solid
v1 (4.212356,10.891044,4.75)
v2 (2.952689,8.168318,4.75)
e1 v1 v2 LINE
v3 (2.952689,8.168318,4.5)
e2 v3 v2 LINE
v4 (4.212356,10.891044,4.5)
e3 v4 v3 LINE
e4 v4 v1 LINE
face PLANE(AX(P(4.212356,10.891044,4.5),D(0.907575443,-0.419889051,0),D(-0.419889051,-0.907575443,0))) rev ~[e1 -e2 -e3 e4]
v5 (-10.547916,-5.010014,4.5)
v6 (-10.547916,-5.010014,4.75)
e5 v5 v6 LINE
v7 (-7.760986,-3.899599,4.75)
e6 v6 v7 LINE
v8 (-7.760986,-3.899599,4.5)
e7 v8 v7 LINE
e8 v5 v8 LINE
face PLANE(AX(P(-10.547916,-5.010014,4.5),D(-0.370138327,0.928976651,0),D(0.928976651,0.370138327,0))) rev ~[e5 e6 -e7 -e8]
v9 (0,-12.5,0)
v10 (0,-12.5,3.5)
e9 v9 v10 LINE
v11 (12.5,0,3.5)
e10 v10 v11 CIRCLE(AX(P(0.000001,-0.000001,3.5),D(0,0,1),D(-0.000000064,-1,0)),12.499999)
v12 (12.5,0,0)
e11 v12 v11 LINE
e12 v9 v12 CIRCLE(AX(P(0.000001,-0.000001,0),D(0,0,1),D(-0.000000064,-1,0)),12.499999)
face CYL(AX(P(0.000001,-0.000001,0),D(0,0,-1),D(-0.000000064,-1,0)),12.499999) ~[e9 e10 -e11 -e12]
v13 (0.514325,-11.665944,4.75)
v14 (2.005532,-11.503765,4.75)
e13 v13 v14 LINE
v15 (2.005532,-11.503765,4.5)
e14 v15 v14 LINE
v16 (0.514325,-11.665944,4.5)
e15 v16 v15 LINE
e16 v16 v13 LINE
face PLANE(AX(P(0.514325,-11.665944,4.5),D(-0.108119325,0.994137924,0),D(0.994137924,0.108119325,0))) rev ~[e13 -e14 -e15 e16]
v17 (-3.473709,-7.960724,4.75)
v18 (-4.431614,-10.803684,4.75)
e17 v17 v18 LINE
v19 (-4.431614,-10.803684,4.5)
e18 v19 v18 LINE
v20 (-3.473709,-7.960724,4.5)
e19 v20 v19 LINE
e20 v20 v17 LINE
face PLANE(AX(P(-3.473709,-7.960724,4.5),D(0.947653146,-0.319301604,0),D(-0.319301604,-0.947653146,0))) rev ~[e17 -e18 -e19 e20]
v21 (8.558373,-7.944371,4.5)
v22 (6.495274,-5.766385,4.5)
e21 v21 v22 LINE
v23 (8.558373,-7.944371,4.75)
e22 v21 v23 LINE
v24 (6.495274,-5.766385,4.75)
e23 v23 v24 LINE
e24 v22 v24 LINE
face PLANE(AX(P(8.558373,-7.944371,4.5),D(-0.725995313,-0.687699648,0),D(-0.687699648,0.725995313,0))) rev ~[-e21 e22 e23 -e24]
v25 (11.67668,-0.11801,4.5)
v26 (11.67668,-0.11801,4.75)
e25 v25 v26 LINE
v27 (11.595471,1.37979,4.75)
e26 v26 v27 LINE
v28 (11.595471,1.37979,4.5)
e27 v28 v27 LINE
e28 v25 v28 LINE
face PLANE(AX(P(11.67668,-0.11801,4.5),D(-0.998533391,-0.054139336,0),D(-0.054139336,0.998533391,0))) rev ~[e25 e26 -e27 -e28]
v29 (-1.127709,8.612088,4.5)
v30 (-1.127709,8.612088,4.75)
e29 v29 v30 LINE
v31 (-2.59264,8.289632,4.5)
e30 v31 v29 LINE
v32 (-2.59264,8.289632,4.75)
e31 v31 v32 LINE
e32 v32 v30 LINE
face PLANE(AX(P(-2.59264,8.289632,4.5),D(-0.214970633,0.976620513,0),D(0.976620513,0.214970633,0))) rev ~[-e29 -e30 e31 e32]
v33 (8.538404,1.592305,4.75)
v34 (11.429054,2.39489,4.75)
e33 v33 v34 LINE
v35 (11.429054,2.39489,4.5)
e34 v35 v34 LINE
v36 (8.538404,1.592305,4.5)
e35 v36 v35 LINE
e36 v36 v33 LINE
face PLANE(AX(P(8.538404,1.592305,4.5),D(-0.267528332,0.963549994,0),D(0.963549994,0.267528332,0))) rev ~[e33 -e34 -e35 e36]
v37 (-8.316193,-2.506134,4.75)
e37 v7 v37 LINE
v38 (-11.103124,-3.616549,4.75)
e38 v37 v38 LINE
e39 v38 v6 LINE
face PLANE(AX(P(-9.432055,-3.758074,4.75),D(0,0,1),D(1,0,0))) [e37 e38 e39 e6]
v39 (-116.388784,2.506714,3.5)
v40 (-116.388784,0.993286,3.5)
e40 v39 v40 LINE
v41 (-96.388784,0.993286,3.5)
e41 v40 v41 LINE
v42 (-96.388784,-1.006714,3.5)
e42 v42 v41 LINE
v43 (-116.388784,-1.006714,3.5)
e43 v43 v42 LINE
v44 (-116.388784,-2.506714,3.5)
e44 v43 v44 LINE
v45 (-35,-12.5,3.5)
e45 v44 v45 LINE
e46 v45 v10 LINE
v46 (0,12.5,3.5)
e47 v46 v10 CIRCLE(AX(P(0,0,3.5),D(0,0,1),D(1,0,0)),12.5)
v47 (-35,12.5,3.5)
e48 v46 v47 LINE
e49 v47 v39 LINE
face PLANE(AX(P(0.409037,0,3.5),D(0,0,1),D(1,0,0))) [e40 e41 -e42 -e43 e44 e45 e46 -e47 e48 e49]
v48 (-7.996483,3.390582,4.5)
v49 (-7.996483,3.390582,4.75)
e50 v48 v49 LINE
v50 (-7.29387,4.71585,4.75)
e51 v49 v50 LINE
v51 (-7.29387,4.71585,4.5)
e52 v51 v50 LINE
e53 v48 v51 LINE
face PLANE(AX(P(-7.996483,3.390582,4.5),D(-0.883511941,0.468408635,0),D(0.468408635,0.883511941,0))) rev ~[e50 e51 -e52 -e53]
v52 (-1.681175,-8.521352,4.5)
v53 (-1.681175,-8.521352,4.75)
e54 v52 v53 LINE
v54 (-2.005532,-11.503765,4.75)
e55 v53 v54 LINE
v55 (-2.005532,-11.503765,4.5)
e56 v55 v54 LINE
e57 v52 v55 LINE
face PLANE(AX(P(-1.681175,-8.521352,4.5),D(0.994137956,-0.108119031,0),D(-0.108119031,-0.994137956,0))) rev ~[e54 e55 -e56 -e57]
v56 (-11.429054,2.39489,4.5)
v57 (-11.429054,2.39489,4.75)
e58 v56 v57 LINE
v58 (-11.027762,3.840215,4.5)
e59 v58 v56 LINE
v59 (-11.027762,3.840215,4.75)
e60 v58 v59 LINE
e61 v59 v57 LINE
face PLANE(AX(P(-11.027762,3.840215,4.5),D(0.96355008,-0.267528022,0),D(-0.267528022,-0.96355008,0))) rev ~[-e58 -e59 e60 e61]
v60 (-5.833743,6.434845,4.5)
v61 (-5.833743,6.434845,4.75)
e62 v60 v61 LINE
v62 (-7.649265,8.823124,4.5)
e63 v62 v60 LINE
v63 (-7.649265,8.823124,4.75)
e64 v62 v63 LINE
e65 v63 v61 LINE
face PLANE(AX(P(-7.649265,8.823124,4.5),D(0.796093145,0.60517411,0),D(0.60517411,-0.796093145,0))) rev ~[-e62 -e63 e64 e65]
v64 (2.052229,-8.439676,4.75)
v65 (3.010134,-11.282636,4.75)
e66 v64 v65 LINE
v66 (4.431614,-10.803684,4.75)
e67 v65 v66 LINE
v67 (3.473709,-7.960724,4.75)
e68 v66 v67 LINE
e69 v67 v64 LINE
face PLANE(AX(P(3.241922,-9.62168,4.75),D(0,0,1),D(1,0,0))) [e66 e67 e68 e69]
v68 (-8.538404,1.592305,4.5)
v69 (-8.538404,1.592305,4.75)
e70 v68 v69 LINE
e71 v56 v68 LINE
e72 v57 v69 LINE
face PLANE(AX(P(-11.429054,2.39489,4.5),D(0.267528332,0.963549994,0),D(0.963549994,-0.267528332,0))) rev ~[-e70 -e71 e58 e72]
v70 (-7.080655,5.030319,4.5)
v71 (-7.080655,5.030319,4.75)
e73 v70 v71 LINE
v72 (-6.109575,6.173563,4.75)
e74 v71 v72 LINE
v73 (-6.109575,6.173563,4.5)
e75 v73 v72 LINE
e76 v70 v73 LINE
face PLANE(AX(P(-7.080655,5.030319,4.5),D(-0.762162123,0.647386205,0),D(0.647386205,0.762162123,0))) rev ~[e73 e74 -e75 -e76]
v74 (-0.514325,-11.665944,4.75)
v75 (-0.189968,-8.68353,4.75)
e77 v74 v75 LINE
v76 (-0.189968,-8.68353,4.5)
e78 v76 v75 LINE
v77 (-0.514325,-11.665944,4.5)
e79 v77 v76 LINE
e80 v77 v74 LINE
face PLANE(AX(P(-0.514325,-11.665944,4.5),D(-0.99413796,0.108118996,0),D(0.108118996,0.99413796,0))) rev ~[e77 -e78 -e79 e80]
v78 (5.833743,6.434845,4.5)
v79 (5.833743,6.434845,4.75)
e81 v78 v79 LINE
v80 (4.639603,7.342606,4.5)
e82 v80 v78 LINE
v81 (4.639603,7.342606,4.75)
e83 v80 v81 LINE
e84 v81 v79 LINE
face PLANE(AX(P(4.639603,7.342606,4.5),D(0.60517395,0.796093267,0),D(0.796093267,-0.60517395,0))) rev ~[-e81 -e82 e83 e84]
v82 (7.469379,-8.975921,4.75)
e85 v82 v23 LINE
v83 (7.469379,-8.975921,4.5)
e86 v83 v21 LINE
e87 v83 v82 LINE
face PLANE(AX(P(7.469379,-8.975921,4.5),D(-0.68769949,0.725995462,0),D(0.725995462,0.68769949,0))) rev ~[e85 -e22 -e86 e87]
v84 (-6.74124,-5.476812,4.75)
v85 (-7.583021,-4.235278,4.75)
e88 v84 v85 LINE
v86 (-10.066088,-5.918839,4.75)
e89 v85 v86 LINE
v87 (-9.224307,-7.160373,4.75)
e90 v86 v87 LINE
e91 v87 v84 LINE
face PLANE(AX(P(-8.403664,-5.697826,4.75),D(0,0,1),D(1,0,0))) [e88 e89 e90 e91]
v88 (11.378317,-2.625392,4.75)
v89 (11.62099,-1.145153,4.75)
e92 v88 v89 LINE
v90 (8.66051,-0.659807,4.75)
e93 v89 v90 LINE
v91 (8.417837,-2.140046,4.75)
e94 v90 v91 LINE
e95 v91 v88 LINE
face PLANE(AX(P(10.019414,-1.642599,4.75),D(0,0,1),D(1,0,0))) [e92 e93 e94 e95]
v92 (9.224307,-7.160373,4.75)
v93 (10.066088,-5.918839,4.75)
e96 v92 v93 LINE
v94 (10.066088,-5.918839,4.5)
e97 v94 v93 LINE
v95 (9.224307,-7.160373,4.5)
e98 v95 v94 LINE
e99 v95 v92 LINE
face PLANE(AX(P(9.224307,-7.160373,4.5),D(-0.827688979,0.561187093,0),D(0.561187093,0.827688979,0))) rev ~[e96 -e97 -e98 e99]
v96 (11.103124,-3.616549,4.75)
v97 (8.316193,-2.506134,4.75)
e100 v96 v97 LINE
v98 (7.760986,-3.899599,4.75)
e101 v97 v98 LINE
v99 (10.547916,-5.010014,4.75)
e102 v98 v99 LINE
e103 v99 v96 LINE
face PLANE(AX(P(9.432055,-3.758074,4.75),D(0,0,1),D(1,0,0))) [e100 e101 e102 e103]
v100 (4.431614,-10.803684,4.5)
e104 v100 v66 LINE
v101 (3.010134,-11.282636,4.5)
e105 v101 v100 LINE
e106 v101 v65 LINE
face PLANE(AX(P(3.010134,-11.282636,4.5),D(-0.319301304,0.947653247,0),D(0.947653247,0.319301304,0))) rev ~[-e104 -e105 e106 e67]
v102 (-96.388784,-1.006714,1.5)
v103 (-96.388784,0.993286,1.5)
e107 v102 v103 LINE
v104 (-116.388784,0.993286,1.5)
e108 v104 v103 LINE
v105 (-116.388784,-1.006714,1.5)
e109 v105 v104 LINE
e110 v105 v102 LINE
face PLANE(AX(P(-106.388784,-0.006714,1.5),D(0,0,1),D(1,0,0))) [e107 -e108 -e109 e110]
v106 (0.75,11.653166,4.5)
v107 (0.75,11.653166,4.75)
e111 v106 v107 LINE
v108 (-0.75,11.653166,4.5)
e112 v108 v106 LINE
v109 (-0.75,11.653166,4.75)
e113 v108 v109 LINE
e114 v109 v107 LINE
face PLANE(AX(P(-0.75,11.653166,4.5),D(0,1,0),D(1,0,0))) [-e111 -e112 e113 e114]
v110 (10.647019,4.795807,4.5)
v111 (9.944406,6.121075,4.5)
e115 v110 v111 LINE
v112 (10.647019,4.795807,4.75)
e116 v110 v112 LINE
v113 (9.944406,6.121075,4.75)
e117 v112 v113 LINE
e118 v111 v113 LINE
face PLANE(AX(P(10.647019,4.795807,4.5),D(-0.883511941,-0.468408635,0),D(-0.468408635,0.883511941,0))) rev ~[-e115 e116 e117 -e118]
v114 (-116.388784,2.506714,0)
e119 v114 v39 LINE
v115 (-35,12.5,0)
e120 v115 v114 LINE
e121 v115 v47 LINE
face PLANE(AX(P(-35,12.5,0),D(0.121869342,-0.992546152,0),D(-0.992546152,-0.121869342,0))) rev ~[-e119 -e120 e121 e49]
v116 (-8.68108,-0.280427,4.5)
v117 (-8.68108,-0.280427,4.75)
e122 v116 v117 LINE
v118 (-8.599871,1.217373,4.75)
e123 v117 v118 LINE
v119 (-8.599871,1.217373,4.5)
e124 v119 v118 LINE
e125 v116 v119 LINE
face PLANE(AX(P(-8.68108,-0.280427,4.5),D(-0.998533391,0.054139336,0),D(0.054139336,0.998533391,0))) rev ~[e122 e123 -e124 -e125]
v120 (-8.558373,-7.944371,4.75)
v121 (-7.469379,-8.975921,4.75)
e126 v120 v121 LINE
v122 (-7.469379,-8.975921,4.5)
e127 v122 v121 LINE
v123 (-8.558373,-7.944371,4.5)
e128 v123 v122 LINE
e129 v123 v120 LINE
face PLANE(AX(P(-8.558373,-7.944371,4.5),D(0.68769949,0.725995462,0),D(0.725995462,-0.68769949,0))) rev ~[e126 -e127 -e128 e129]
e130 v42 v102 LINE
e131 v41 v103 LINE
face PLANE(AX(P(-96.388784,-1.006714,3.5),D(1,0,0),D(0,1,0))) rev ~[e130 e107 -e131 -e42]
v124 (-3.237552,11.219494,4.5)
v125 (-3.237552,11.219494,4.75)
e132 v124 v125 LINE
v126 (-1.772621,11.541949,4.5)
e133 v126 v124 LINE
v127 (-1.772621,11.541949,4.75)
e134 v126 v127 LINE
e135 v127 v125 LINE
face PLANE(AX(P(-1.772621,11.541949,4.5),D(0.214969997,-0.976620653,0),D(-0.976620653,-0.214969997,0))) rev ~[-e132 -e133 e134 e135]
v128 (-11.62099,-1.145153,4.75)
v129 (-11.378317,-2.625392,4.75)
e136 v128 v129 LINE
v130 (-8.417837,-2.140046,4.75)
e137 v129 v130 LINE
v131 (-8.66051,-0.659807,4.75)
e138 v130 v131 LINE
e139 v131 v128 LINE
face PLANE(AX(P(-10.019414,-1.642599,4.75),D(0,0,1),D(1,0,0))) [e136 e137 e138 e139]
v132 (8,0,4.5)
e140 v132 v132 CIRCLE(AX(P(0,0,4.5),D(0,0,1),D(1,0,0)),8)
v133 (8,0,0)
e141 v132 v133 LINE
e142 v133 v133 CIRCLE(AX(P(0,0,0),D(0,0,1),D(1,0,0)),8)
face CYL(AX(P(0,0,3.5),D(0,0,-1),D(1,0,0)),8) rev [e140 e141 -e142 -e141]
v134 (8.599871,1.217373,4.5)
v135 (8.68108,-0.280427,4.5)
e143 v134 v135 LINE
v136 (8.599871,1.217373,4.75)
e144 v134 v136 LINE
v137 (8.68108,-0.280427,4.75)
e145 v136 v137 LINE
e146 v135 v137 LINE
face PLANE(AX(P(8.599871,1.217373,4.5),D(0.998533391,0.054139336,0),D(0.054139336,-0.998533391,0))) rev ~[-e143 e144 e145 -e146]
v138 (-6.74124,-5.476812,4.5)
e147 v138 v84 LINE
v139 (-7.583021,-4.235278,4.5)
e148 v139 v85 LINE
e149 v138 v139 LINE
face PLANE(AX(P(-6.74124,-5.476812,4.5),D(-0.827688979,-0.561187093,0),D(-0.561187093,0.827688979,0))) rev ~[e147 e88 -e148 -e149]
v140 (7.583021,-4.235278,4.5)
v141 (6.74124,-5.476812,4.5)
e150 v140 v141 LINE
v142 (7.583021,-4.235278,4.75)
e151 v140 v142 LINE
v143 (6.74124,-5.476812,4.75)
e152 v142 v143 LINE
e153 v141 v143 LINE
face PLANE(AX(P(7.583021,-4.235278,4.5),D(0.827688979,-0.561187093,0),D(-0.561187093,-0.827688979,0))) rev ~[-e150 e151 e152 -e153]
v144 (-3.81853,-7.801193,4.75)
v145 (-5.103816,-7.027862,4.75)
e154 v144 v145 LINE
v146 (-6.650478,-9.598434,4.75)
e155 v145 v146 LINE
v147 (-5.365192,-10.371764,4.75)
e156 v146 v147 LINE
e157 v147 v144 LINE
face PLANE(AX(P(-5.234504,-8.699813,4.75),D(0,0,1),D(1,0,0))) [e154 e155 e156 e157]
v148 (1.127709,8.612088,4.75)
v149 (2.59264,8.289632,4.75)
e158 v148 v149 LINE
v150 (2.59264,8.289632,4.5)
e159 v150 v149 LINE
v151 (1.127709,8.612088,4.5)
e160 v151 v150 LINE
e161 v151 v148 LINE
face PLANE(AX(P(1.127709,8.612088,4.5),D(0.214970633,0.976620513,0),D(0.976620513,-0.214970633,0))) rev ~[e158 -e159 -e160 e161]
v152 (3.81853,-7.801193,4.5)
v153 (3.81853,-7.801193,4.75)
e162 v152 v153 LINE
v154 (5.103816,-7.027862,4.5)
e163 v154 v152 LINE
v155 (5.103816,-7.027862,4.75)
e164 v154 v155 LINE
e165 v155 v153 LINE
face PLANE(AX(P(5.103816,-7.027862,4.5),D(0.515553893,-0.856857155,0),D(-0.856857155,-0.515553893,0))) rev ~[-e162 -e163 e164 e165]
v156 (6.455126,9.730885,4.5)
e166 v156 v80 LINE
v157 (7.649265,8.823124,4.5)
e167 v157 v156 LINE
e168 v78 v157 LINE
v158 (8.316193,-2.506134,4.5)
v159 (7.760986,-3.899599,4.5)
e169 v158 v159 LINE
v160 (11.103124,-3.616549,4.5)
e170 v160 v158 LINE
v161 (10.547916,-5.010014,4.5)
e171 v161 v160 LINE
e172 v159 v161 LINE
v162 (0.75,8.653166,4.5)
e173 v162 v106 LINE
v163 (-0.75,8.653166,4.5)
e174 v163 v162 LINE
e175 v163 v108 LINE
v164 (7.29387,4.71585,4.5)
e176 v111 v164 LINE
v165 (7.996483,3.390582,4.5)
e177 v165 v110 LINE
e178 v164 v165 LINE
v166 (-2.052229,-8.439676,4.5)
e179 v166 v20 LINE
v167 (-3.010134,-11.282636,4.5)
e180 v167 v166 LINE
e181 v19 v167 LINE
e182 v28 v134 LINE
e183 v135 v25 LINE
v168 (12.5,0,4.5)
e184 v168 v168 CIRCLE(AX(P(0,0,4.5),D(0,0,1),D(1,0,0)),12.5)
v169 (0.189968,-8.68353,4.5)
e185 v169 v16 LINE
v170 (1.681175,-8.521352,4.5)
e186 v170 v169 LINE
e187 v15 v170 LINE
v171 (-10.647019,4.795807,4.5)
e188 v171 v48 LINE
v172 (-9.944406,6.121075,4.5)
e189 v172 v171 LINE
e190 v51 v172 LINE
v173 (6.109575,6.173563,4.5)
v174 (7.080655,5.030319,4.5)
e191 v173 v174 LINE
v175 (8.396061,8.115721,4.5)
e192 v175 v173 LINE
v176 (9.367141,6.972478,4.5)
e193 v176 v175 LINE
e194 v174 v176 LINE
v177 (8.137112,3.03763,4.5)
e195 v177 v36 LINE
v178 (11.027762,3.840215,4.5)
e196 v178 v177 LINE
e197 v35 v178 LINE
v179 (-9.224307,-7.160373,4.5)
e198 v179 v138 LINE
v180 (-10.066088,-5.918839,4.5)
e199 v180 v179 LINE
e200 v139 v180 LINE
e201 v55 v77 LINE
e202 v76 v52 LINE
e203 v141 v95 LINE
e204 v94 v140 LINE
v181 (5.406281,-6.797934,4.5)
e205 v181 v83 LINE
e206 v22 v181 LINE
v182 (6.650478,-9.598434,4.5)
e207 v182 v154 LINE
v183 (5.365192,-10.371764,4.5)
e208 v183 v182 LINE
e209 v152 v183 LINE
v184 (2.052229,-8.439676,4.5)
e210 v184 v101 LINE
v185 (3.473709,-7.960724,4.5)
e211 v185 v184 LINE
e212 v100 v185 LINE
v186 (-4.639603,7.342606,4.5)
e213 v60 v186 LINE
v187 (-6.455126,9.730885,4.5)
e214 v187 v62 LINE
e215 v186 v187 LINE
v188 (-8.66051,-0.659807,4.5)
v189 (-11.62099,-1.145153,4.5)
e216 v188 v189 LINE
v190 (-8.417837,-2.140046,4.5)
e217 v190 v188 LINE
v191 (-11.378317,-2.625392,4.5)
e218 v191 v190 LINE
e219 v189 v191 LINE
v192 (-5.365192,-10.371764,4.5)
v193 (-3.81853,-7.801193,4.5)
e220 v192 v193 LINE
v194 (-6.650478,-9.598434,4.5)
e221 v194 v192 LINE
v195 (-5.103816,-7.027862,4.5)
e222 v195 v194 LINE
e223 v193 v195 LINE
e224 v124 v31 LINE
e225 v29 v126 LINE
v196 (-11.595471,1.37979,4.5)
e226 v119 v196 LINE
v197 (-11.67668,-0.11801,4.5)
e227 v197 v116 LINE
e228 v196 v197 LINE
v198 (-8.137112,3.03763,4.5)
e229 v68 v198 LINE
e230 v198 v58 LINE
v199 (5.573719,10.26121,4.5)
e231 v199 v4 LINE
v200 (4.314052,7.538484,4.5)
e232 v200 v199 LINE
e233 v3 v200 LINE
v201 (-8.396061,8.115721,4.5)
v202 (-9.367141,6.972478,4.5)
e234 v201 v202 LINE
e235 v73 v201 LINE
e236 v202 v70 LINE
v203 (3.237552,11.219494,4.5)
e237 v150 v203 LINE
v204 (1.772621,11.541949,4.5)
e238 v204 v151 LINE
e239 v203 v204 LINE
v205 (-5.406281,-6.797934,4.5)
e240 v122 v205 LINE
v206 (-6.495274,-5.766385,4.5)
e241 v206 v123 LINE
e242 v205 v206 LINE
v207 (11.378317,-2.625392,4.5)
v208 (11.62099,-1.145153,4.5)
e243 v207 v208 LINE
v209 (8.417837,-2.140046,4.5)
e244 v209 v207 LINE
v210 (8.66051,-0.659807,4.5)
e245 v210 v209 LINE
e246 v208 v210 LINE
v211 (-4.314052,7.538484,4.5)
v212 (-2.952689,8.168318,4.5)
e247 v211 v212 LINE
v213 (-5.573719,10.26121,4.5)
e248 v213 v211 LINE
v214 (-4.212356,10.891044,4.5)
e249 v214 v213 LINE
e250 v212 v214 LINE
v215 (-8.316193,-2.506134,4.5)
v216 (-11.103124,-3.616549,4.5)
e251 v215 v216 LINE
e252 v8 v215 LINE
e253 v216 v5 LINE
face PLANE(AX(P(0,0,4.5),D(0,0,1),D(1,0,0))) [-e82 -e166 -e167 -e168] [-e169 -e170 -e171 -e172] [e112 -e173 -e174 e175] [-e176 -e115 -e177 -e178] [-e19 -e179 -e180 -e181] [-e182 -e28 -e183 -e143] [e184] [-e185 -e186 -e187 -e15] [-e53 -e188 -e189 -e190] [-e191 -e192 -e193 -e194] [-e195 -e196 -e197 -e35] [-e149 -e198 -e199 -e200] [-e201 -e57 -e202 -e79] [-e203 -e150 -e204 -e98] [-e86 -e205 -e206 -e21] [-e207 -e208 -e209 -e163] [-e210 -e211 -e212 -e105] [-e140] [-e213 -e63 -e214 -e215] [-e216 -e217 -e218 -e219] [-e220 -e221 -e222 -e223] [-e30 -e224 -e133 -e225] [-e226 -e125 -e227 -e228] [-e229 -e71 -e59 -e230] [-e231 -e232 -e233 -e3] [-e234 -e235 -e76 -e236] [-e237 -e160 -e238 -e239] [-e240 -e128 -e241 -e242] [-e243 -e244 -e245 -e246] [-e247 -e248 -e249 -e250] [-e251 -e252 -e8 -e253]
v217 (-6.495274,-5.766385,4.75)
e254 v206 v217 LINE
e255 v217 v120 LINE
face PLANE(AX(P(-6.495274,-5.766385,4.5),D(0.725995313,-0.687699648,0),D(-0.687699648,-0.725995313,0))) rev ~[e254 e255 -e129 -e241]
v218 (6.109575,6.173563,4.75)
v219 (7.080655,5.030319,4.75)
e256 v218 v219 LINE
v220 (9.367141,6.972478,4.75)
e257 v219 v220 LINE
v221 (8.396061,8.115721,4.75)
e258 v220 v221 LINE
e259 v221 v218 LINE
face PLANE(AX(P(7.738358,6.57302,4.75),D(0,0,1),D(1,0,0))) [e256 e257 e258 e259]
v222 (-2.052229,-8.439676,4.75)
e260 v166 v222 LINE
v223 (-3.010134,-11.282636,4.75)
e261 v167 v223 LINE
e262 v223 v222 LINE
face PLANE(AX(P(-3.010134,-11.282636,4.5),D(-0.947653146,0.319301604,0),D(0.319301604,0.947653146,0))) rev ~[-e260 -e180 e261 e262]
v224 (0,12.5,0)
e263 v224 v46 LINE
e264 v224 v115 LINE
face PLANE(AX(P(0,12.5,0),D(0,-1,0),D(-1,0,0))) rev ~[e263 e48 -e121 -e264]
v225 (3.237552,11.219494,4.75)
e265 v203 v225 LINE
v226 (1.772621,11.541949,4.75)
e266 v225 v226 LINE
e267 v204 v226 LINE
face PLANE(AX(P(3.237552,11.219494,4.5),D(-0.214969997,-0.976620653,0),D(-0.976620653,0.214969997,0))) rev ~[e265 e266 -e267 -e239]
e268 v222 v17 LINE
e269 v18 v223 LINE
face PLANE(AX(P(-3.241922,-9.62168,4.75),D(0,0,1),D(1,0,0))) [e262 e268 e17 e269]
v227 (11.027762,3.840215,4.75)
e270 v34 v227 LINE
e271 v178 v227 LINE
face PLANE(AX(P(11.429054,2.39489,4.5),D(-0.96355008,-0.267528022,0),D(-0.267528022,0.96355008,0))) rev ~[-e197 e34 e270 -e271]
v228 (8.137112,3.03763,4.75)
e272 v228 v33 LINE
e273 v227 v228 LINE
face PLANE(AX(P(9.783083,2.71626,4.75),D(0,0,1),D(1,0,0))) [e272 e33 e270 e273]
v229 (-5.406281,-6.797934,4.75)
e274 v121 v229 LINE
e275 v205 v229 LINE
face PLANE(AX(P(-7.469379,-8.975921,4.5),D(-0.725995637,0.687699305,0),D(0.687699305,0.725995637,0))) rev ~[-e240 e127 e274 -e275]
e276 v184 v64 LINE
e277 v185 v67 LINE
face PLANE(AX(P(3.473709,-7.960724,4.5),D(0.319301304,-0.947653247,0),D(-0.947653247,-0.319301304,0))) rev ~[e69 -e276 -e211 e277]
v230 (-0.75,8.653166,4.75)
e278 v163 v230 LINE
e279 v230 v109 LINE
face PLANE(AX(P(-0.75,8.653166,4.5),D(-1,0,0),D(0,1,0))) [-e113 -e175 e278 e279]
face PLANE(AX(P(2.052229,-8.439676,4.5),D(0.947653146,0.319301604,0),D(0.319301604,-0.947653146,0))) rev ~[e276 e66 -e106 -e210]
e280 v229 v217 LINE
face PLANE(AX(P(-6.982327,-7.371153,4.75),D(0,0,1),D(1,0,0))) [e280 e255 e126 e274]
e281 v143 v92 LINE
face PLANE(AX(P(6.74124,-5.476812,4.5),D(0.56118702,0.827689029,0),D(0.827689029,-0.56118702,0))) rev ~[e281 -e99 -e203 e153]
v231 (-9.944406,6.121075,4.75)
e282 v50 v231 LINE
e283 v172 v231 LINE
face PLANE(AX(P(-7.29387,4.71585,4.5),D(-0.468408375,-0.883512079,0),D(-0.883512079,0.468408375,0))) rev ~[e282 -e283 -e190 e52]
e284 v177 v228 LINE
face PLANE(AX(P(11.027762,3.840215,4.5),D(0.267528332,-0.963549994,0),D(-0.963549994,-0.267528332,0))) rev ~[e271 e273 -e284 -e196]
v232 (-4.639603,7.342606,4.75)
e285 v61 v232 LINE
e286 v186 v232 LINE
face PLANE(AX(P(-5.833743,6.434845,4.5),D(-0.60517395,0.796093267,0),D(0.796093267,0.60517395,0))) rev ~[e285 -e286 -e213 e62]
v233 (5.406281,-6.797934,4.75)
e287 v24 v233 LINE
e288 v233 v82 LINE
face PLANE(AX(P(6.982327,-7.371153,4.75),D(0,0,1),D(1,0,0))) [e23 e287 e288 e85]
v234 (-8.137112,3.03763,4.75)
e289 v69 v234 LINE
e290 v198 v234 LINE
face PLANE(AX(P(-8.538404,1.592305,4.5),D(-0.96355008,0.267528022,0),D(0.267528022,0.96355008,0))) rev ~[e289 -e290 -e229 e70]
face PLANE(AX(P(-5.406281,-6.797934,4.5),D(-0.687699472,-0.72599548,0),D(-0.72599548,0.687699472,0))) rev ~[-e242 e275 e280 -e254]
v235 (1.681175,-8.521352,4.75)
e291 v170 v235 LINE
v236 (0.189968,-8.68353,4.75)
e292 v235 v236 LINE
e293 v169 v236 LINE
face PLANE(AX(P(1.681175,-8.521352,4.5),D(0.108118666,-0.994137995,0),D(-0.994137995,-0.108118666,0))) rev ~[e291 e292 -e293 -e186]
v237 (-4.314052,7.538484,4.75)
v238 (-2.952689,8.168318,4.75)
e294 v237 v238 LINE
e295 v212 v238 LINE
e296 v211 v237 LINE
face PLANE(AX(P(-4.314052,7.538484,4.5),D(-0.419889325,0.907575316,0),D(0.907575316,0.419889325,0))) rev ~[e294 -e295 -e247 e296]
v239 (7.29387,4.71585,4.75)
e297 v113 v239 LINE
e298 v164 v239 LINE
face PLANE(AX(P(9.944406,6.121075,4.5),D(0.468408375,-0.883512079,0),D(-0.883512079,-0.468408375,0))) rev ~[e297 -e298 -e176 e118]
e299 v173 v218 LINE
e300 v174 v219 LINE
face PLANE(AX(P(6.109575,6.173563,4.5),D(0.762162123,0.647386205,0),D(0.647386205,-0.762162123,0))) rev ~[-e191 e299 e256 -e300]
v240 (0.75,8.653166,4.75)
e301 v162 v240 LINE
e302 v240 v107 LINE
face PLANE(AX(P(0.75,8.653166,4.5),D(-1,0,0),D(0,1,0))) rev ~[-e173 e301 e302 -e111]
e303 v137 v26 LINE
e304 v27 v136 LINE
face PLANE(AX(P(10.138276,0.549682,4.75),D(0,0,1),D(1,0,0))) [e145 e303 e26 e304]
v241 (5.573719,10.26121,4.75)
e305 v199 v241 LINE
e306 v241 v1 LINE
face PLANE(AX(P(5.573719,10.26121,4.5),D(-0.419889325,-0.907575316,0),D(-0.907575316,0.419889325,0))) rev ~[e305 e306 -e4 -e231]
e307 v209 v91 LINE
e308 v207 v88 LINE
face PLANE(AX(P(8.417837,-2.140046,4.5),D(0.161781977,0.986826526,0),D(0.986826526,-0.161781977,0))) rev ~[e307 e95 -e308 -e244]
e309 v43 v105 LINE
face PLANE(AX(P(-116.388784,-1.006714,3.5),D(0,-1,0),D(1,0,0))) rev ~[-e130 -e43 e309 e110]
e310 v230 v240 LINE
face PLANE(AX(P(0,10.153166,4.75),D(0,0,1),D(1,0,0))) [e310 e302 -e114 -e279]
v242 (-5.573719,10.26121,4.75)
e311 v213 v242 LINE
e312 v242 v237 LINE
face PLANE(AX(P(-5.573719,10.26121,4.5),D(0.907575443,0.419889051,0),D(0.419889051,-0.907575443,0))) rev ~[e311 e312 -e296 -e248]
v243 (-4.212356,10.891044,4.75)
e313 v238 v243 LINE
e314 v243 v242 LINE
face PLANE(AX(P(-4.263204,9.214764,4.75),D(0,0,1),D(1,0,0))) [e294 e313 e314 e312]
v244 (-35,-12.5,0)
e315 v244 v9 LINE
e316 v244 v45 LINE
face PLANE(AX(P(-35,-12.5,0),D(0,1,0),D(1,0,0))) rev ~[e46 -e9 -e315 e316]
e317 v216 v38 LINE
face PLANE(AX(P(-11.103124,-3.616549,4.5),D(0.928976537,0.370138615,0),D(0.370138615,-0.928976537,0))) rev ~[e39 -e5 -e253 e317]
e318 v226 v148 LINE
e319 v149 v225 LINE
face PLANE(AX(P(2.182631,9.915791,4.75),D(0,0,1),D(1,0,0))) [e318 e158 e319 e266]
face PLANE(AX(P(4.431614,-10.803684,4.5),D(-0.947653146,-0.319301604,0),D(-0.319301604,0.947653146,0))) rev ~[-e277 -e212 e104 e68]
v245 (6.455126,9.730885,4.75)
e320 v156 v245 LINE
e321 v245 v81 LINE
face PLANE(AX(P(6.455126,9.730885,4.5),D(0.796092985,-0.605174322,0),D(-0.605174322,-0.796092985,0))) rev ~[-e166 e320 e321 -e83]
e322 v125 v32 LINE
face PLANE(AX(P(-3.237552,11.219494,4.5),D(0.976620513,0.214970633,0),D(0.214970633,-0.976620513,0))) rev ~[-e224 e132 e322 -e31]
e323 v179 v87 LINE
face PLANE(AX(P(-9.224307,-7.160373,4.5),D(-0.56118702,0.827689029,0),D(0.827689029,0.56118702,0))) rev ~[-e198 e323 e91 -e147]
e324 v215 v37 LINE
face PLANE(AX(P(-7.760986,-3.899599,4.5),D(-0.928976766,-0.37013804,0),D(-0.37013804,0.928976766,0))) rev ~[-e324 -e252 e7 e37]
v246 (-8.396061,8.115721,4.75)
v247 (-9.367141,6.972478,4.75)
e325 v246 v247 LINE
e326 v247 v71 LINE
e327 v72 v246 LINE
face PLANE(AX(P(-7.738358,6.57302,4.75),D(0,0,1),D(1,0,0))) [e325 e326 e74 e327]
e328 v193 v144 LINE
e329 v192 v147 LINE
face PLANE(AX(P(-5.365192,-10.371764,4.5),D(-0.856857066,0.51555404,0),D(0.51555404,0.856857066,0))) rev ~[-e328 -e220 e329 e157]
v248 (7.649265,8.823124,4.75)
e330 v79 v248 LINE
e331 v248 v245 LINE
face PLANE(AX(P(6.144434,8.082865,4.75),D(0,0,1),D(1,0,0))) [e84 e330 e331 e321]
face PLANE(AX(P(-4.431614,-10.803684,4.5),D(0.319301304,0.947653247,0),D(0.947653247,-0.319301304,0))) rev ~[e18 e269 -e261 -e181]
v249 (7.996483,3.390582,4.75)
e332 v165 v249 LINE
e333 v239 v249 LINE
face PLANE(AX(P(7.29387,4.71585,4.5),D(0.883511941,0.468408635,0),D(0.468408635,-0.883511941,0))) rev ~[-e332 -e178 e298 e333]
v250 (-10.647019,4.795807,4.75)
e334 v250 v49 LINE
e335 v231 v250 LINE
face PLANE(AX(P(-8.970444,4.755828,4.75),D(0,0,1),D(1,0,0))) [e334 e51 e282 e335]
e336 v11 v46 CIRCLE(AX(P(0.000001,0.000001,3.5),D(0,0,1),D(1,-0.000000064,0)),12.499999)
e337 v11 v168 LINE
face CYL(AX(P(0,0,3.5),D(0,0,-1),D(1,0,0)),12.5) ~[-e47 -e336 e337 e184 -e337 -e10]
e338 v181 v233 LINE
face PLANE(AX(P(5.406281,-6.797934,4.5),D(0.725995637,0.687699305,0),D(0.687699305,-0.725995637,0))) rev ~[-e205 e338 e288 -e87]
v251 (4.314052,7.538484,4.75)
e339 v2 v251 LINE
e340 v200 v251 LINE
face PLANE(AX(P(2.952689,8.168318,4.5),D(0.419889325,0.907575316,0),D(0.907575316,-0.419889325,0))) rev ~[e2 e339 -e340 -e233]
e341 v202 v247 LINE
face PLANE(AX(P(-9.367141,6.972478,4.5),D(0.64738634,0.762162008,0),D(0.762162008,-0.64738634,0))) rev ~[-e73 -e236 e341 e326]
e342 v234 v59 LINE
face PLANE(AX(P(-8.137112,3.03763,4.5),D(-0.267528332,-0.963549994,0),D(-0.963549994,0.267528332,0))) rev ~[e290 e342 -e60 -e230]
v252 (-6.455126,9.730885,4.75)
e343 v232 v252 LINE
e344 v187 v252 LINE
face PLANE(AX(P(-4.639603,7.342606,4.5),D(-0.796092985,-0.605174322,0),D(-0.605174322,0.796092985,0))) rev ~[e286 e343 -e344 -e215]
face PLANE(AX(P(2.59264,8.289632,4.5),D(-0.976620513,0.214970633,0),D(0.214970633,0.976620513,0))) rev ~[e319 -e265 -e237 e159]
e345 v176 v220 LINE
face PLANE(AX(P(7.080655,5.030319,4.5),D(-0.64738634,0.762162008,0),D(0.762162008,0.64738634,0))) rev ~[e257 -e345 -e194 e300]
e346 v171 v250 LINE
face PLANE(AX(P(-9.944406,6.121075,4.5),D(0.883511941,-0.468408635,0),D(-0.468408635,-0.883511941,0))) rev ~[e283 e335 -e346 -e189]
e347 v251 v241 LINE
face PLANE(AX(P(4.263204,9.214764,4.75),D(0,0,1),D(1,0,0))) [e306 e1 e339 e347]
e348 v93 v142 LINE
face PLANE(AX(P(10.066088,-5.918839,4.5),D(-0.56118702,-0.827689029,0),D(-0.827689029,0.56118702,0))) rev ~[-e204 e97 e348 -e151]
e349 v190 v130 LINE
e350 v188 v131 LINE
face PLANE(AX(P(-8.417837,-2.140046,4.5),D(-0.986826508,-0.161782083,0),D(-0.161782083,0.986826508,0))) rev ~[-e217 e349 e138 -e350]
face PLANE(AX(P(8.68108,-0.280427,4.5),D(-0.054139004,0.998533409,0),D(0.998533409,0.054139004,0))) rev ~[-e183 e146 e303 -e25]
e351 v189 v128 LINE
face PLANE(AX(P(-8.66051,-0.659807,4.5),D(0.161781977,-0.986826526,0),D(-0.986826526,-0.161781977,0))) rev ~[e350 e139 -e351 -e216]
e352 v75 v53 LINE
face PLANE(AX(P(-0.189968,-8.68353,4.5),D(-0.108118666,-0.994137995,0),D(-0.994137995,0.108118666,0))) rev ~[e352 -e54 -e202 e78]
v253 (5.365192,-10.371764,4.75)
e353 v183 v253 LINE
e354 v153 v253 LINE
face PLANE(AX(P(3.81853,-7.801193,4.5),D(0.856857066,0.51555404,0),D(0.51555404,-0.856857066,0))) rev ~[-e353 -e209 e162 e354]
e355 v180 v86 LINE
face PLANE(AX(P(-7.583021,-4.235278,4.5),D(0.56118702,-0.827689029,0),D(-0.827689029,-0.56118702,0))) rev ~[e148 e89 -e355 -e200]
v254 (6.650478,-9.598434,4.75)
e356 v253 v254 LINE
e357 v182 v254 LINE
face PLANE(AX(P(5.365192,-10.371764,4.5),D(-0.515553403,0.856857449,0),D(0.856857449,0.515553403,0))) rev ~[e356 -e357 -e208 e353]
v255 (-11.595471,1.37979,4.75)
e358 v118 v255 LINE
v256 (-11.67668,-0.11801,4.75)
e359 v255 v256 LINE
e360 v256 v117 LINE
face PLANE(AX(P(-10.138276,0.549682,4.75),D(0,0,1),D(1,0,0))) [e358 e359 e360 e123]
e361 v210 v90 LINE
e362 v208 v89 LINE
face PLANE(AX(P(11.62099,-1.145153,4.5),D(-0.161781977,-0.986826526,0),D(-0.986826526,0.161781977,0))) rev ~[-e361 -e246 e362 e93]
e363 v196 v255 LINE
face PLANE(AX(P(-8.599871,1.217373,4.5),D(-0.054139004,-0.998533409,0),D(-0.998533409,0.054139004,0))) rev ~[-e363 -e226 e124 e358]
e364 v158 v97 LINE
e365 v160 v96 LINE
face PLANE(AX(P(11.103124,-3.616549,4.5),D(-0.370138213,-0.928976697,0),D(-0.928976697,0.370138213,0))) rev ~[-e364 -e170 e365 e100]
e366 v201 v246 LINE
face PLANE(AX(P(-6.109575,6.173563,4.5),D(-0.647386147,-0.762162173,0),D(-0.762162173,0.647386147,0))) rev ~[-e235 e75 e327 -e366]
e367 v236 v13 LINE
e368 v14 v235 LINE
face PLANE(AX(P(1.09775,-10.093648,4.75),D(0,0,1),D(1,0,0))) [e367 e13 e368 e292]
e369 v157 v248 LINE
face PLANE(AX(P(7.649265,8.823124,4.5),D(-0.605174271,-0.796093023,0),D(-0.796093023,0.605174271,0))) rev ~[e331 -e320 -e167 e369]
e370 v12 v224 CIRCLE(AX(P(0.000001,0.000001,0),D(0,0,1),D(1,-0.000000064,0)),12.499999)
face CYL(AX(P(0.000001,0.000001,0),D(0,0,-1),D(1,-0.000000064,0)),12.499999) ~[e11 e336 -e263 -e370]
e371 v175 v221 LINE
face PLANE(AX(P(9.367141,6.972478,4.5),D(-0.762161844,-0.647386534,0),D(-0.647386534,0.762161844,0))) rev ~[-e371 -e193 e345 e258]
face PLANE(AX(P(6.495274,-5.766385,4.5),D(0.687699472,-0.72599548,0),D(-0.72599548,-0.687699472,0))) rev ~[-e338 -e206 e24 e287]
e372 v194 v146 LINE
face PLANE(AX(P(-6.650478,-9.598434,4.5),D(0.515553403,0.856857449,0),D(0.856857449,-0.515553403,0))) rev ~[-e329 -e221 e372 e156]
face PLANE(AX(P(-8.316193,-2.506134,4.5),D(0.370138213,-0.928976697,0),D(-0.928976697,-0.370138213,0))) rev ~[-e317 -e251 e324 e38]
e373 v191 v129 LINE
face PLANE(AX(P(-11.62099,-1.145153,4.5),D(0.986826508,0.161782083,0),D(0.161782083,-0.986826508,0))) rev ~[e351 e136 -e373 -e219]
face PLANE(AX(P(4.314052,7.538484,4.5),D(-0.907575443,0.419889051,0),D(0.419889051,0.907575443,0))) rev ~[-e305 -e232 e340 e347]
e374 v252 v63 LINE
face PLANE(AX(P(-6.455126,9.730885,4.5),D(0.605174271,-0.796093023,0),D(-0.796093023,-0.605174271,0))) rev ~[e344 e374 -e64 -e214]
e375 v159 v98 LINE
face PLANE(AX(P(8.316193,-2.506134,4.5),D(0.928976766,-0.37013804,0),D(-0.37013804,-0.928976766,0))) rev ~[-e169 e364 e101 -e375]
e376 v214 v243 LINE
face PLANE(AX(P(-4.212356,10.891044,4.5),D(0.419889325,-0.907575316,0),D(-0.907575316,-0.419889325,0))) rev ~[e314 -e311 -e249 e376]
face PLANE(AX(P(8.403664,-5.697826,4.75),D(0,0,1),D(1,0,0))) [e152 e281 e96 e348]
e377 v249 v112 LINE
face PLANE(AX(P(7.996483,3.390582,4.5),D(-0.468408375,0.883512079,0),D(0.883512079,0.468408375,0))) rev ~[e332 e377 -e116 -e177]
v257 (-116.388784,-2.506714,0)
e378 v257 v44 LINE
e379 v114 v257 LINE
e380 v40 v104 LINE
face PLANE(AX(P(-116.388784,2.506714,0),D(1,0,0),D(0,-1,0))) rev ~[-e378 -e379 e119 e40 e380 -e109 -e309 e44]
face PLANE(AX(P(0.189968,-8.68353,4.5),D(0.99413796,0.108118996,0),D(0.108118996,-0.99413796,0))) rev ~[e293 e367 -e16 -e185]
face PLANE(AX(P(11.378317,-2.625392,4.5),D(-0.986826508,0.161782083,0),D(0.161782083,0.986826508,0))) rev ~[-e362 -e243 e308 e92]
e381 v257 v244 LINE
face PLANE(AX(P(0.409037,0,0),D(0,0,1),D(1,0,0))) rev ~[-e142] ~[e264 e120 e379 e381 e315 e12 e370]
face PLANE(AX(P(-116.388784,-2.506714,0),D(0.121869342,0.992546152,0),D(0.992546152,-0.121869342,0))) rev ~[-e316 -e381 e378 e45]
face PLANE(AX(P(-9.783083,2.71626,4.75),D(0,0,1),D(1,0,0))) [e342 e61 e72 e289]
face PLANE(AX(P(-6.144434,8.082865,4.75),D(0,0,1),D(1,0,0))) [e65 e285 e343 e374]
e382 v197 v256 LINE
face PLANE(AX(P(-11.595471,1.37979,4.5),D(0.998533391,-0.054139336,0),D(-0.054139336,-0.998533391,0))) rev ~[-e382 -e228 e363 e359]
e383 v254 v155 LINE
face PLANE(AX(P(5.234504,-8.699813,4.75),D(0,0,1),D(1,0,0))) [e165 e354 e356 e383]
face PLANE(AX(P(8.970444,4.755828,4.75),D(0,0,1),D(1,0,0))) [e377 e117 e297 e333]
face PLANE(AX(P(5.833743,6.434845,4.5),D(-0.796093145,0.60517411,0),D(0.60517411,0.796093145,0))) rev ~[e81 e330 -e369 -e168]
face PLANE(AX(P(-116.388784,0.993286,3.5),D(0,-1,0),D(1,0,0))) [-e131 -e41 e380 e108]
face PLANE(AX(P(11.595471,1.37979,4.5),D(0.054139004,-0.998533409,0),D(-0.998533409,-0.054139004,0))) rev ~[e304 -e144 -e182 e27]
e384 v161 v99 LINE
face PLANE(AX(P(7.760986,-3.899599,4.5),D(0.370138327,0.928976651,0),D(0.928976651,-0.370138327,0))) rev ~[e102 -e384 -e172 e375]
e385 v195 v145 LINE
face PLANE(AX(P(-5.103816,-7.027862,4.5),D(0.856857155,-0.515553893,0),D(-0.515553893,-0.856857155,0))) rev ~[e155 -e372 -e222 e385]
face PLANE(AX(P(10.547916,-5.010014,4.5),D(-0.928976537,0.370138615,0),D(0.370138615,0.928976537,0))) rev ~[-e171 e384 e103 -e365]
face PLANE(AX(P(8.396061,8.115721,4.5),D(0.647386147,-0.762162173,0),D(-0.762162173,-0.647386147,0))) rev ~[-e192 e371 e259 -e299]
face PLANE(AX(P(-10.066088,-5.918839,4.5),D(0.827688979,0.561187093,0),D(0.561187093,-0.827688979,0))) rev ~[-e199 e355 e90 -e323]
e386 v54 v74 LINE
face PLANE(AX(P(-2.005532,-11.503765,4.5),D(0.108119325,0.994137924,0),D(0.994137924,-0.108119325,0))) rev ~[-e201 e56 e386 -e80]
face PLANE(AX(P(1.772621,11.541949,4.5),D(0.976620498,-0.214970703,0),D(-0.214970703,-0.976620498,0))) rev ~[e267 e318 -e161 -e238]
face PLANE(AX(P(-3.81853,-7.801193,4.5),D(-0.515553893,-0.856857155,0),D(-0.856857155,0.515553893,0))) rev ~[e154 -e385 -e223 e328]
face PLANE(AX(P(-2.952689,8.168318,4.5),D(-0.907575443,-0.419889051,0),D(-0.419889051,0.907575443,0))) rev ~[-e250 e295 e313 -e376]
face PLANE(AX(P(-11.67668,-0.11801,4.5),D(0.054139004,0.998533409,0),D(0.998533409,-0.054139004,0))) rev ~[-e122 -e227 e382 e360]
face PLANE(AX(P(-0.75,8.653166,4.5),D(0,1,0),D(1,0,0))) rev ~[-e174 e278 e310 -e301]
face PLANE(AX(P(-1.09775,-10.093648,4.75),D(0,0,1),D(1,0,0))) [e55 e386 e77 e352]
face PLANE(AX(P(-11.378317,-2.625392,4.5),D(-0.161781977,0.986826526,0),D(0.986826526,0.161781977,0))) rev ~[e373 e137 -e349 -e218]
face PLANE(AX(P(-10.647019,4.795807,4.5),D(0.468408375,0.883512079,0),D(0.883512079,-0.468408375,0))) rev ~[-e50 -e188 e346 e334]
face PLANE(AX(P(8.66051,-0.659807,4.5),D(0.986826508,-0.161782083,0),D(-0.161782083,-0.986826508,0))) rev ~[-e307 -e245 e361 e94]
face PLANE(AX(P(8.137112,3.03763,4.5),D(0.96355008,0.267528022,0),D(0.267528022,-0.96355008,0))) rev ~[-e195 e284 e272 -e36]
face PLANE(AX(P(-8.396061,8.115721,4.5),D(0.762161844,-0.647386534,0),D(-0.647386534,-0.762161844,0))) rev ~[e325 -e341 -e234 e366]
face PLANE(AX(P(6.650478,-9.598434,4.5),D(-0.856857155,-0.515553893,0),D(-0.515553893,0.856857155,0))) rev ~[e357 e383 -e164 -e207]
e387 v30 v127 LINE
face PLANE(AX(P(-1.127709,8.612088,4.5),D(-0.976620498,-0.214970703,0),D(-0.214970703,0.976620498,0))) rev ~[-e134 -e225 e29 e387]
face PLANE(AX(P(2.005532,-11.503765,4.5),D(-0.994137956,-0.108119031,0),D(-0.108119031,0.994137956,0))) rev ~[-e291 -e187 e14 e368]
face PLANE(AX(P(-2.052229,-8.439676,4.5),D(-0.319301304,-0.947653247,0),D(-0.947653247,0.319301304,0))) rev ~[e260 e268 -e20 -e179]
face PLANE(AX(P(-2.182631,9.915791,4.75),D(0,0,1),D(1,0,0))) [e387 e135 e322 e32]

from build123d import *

# Parameters (mm, degrees)
F0_R     = 8
F1_DEPTH = 3.5
F2_R     = 12.5
F2_R_2   = 8
F3_DEPTH = 1
F4_W     = 20
F4_H     = 2
F5_DEPTH = 2
F6_W     = 1.5
F6_H     = 3
F7_DEPTH = 0.25


with BuildPart() as f1:
    # F0 (on Top) → F1 (new body)
    with BuildSketch(Plane.XY):
        with BuildLine():
            ThreePointArc((0, -12.5), (8.838835, -8.838835), (12.5, 0))
            ThreePointArc((12.5, 0), (8.838835, 8.838835), (0, 12.5))
            ThreePointArc((0, 12.5), (-12.5, 0), (0, -12.5))
        make_face()
        Circle(F0_R, mode=Mode.SUBTRACT)
        with BuildLine():
            ThreePointArc((0, -12.5), (-12.5, 0), (0, 12.5))
            Line((0, 12.5), (-35, 12.5))
            Line((-35, 12.5), (-116.388784, 2.506714))
            Line((-116.388784, 2.506714), (-116.388784, -2.506714))
            Line((-116.388784, -2.506714), (-35, -12.5))
            Line((-35, -12.5), (0, -12.5))
        make_face()
    extrude(amount=F1_DEPTH)

    # F2 (on face) → F3 (join)
    with BuildSketch(Plane.XY.offset(3.5)):
        Circle(F2_R)
        Circle(F2_R_2, mode=Mode.SUBTRACT)
    extrude(amount=F3_DEPTH)

    # F4 (on face) → F5 (cut)
    with BuildSketch(Plane.XY.offset(3.5)):
        with Locations((-106.388784, -0.006714)):
            Rectangle(F4_W, F4_H)
    extrude(amount=-F5_DEPTH, mode=Mode.SUBTRACT)

    # F6 (on face) → F7 (join)
    with BuildSketch(Plane.XY.offset(4.5)):
        with Locations((0, 10.153166)):
            Rectangle(F6_W, F6_H)
        Polygon((3.237552, 11.219494), (1.772621, 11.541949), (1.127709, 8.612088), (2.59264, 8.289632), align=None)
        Polygon((5.573719, 10.26121), (4.212356, 10.891044), (2.952689, 8.168318), (4.314052, 7.538484), align=None)
        Polygon((7.649265, 8.823124), (6.455126, 9.730885), (4.639603, 7.342606), (5.833743, 6.434845), align=None)
        Polygon((9.367141, 6.972478), (8.396061, 8.115721), (6.109575, 6.173563), (7.080655, 5.030319), align=None)
        Polygon((10.647019, 4.795807), (9.944406, 6.121075), (7.29387, 4.71585), (7.996483, 3.390582), align=None)
        Polygon((11.429054, 2.39489), (11.027762, 3.840215), (8.137112, 3.03763), (8.538404, 1.592305), align=None)
        Polygon((11.67668, -0.11801), (11.595471, 1.37979), (8.599871, 1.217373), (8.68108, -0.280427), align=None)
        Polygon((11.378317, -2.625392), (11.62099, -1.145153), (8.66051, -0.659807), (8.417837, -2.140046), align=None)
        Polygon((10.547916, -5.010014), (11.103124, -3.616549), (8.316193, -2.506134), (7.760986, -3.899599), align=None)
        Polygon((9.224307, -7.160373), (10.066088, -5.918839), (7.583021, -4.235278), (6.74124, -5.476812), align=None)
        Polygon((7.469379, -8.975921), (8.558373, -7.944371), (6.495274, -5.766385), (5.406281, -6.797934), align=None)
        Polygon((5.365192, -10.371764), (6.650478, -9.598434), (5.103816, -7.027862), (3.81853, -7.801193), align=None)
        Polygon((3.010134, -11.282636), (4.431614, -10.803684), (3.473709, -7.960724), (2.052229, -8.439676), align=None)
        Polygon((0.514325, -11.665944), (2.005532, -11.503765), (1.681175, -8.521352), (0.189968, -8.68353), align=None)
        Polygon((-2.005532, -11.503765), (-0.514325, -11.665944), (-0.189968, -8.68353), (-1.681175, -8.521352), align=None)
        Polygon((-4.431614, -10.803684), (-3.010134, -11.282636), (-2.052229, -8.439676), (-3.473709, -7.960724), align=None)
        Polygon((-6.650478, -9.598434), (-5.365192, -10.371764), (-3.81853, -7.801193), (-5.103816, -7.027862), align=None)
        Polygon((-8.558373, -7.944371), (-7.469379, -8.975921), (-5.406281, -6.797934), (-6.495274, -5.766385), align=None)
        Polygon((-10.066088, -5.918839), (-9.224307, -7.160373), (-6.74124, -5.476812), (-7.583021, -4.235278), align=None)
        Polygon((-11.103124, -3.616549), (-10.547916, -5.010014), (-7.760986, -3.899599), (-8.316193, -2.506134), align=None)
        Polygon((-11.62099, -1.145153), (-11.378317, -2.625392), (-8.417837, -2.140046), (-8.66051, -0.659807), align=None)
        Polygon((-11.595471, 1.37979), (-11.67668, -0.11801), (-8.68108, -0.280427), (-8.599871, 1.217373), align=None)
        Polygon((-11.027762, 3.840215), (-11.429054, 2.39489), (-8.538404, 1.592305), (-8.137112, 3.03763), align=None)
        Polygon((-9.944406, 6.121075), (-10.647019, 4.795807), (-7.996483, 3.390582), (-7.29387, 4.71585), align=None)
        Polygon((-8.396061, 8.115721), (-9.367141, 6.972478), (-7.080655, 5.030319), (-6.109575, 6.173563), align=None)
        Polygon((-6.455126, 9.730885), (-7.649265, 8.823124), (-5.833743, 6.434845), (-4.639603, 7.342606), align=None)
        Polygon((-4.212356, 10.891044), (-5.573719, 10.26121), (-4.314052, 7.538484), (-2.952689, 8.168318), align=None)
        Polygon((-1.772621, 11.541949), (-3.237552, 11.219494), (-2.59264, 8.289632), (-1.127709, 8.612088), align=None)
    extrude(amount=F7_DEPTH)


solid = f1.part
